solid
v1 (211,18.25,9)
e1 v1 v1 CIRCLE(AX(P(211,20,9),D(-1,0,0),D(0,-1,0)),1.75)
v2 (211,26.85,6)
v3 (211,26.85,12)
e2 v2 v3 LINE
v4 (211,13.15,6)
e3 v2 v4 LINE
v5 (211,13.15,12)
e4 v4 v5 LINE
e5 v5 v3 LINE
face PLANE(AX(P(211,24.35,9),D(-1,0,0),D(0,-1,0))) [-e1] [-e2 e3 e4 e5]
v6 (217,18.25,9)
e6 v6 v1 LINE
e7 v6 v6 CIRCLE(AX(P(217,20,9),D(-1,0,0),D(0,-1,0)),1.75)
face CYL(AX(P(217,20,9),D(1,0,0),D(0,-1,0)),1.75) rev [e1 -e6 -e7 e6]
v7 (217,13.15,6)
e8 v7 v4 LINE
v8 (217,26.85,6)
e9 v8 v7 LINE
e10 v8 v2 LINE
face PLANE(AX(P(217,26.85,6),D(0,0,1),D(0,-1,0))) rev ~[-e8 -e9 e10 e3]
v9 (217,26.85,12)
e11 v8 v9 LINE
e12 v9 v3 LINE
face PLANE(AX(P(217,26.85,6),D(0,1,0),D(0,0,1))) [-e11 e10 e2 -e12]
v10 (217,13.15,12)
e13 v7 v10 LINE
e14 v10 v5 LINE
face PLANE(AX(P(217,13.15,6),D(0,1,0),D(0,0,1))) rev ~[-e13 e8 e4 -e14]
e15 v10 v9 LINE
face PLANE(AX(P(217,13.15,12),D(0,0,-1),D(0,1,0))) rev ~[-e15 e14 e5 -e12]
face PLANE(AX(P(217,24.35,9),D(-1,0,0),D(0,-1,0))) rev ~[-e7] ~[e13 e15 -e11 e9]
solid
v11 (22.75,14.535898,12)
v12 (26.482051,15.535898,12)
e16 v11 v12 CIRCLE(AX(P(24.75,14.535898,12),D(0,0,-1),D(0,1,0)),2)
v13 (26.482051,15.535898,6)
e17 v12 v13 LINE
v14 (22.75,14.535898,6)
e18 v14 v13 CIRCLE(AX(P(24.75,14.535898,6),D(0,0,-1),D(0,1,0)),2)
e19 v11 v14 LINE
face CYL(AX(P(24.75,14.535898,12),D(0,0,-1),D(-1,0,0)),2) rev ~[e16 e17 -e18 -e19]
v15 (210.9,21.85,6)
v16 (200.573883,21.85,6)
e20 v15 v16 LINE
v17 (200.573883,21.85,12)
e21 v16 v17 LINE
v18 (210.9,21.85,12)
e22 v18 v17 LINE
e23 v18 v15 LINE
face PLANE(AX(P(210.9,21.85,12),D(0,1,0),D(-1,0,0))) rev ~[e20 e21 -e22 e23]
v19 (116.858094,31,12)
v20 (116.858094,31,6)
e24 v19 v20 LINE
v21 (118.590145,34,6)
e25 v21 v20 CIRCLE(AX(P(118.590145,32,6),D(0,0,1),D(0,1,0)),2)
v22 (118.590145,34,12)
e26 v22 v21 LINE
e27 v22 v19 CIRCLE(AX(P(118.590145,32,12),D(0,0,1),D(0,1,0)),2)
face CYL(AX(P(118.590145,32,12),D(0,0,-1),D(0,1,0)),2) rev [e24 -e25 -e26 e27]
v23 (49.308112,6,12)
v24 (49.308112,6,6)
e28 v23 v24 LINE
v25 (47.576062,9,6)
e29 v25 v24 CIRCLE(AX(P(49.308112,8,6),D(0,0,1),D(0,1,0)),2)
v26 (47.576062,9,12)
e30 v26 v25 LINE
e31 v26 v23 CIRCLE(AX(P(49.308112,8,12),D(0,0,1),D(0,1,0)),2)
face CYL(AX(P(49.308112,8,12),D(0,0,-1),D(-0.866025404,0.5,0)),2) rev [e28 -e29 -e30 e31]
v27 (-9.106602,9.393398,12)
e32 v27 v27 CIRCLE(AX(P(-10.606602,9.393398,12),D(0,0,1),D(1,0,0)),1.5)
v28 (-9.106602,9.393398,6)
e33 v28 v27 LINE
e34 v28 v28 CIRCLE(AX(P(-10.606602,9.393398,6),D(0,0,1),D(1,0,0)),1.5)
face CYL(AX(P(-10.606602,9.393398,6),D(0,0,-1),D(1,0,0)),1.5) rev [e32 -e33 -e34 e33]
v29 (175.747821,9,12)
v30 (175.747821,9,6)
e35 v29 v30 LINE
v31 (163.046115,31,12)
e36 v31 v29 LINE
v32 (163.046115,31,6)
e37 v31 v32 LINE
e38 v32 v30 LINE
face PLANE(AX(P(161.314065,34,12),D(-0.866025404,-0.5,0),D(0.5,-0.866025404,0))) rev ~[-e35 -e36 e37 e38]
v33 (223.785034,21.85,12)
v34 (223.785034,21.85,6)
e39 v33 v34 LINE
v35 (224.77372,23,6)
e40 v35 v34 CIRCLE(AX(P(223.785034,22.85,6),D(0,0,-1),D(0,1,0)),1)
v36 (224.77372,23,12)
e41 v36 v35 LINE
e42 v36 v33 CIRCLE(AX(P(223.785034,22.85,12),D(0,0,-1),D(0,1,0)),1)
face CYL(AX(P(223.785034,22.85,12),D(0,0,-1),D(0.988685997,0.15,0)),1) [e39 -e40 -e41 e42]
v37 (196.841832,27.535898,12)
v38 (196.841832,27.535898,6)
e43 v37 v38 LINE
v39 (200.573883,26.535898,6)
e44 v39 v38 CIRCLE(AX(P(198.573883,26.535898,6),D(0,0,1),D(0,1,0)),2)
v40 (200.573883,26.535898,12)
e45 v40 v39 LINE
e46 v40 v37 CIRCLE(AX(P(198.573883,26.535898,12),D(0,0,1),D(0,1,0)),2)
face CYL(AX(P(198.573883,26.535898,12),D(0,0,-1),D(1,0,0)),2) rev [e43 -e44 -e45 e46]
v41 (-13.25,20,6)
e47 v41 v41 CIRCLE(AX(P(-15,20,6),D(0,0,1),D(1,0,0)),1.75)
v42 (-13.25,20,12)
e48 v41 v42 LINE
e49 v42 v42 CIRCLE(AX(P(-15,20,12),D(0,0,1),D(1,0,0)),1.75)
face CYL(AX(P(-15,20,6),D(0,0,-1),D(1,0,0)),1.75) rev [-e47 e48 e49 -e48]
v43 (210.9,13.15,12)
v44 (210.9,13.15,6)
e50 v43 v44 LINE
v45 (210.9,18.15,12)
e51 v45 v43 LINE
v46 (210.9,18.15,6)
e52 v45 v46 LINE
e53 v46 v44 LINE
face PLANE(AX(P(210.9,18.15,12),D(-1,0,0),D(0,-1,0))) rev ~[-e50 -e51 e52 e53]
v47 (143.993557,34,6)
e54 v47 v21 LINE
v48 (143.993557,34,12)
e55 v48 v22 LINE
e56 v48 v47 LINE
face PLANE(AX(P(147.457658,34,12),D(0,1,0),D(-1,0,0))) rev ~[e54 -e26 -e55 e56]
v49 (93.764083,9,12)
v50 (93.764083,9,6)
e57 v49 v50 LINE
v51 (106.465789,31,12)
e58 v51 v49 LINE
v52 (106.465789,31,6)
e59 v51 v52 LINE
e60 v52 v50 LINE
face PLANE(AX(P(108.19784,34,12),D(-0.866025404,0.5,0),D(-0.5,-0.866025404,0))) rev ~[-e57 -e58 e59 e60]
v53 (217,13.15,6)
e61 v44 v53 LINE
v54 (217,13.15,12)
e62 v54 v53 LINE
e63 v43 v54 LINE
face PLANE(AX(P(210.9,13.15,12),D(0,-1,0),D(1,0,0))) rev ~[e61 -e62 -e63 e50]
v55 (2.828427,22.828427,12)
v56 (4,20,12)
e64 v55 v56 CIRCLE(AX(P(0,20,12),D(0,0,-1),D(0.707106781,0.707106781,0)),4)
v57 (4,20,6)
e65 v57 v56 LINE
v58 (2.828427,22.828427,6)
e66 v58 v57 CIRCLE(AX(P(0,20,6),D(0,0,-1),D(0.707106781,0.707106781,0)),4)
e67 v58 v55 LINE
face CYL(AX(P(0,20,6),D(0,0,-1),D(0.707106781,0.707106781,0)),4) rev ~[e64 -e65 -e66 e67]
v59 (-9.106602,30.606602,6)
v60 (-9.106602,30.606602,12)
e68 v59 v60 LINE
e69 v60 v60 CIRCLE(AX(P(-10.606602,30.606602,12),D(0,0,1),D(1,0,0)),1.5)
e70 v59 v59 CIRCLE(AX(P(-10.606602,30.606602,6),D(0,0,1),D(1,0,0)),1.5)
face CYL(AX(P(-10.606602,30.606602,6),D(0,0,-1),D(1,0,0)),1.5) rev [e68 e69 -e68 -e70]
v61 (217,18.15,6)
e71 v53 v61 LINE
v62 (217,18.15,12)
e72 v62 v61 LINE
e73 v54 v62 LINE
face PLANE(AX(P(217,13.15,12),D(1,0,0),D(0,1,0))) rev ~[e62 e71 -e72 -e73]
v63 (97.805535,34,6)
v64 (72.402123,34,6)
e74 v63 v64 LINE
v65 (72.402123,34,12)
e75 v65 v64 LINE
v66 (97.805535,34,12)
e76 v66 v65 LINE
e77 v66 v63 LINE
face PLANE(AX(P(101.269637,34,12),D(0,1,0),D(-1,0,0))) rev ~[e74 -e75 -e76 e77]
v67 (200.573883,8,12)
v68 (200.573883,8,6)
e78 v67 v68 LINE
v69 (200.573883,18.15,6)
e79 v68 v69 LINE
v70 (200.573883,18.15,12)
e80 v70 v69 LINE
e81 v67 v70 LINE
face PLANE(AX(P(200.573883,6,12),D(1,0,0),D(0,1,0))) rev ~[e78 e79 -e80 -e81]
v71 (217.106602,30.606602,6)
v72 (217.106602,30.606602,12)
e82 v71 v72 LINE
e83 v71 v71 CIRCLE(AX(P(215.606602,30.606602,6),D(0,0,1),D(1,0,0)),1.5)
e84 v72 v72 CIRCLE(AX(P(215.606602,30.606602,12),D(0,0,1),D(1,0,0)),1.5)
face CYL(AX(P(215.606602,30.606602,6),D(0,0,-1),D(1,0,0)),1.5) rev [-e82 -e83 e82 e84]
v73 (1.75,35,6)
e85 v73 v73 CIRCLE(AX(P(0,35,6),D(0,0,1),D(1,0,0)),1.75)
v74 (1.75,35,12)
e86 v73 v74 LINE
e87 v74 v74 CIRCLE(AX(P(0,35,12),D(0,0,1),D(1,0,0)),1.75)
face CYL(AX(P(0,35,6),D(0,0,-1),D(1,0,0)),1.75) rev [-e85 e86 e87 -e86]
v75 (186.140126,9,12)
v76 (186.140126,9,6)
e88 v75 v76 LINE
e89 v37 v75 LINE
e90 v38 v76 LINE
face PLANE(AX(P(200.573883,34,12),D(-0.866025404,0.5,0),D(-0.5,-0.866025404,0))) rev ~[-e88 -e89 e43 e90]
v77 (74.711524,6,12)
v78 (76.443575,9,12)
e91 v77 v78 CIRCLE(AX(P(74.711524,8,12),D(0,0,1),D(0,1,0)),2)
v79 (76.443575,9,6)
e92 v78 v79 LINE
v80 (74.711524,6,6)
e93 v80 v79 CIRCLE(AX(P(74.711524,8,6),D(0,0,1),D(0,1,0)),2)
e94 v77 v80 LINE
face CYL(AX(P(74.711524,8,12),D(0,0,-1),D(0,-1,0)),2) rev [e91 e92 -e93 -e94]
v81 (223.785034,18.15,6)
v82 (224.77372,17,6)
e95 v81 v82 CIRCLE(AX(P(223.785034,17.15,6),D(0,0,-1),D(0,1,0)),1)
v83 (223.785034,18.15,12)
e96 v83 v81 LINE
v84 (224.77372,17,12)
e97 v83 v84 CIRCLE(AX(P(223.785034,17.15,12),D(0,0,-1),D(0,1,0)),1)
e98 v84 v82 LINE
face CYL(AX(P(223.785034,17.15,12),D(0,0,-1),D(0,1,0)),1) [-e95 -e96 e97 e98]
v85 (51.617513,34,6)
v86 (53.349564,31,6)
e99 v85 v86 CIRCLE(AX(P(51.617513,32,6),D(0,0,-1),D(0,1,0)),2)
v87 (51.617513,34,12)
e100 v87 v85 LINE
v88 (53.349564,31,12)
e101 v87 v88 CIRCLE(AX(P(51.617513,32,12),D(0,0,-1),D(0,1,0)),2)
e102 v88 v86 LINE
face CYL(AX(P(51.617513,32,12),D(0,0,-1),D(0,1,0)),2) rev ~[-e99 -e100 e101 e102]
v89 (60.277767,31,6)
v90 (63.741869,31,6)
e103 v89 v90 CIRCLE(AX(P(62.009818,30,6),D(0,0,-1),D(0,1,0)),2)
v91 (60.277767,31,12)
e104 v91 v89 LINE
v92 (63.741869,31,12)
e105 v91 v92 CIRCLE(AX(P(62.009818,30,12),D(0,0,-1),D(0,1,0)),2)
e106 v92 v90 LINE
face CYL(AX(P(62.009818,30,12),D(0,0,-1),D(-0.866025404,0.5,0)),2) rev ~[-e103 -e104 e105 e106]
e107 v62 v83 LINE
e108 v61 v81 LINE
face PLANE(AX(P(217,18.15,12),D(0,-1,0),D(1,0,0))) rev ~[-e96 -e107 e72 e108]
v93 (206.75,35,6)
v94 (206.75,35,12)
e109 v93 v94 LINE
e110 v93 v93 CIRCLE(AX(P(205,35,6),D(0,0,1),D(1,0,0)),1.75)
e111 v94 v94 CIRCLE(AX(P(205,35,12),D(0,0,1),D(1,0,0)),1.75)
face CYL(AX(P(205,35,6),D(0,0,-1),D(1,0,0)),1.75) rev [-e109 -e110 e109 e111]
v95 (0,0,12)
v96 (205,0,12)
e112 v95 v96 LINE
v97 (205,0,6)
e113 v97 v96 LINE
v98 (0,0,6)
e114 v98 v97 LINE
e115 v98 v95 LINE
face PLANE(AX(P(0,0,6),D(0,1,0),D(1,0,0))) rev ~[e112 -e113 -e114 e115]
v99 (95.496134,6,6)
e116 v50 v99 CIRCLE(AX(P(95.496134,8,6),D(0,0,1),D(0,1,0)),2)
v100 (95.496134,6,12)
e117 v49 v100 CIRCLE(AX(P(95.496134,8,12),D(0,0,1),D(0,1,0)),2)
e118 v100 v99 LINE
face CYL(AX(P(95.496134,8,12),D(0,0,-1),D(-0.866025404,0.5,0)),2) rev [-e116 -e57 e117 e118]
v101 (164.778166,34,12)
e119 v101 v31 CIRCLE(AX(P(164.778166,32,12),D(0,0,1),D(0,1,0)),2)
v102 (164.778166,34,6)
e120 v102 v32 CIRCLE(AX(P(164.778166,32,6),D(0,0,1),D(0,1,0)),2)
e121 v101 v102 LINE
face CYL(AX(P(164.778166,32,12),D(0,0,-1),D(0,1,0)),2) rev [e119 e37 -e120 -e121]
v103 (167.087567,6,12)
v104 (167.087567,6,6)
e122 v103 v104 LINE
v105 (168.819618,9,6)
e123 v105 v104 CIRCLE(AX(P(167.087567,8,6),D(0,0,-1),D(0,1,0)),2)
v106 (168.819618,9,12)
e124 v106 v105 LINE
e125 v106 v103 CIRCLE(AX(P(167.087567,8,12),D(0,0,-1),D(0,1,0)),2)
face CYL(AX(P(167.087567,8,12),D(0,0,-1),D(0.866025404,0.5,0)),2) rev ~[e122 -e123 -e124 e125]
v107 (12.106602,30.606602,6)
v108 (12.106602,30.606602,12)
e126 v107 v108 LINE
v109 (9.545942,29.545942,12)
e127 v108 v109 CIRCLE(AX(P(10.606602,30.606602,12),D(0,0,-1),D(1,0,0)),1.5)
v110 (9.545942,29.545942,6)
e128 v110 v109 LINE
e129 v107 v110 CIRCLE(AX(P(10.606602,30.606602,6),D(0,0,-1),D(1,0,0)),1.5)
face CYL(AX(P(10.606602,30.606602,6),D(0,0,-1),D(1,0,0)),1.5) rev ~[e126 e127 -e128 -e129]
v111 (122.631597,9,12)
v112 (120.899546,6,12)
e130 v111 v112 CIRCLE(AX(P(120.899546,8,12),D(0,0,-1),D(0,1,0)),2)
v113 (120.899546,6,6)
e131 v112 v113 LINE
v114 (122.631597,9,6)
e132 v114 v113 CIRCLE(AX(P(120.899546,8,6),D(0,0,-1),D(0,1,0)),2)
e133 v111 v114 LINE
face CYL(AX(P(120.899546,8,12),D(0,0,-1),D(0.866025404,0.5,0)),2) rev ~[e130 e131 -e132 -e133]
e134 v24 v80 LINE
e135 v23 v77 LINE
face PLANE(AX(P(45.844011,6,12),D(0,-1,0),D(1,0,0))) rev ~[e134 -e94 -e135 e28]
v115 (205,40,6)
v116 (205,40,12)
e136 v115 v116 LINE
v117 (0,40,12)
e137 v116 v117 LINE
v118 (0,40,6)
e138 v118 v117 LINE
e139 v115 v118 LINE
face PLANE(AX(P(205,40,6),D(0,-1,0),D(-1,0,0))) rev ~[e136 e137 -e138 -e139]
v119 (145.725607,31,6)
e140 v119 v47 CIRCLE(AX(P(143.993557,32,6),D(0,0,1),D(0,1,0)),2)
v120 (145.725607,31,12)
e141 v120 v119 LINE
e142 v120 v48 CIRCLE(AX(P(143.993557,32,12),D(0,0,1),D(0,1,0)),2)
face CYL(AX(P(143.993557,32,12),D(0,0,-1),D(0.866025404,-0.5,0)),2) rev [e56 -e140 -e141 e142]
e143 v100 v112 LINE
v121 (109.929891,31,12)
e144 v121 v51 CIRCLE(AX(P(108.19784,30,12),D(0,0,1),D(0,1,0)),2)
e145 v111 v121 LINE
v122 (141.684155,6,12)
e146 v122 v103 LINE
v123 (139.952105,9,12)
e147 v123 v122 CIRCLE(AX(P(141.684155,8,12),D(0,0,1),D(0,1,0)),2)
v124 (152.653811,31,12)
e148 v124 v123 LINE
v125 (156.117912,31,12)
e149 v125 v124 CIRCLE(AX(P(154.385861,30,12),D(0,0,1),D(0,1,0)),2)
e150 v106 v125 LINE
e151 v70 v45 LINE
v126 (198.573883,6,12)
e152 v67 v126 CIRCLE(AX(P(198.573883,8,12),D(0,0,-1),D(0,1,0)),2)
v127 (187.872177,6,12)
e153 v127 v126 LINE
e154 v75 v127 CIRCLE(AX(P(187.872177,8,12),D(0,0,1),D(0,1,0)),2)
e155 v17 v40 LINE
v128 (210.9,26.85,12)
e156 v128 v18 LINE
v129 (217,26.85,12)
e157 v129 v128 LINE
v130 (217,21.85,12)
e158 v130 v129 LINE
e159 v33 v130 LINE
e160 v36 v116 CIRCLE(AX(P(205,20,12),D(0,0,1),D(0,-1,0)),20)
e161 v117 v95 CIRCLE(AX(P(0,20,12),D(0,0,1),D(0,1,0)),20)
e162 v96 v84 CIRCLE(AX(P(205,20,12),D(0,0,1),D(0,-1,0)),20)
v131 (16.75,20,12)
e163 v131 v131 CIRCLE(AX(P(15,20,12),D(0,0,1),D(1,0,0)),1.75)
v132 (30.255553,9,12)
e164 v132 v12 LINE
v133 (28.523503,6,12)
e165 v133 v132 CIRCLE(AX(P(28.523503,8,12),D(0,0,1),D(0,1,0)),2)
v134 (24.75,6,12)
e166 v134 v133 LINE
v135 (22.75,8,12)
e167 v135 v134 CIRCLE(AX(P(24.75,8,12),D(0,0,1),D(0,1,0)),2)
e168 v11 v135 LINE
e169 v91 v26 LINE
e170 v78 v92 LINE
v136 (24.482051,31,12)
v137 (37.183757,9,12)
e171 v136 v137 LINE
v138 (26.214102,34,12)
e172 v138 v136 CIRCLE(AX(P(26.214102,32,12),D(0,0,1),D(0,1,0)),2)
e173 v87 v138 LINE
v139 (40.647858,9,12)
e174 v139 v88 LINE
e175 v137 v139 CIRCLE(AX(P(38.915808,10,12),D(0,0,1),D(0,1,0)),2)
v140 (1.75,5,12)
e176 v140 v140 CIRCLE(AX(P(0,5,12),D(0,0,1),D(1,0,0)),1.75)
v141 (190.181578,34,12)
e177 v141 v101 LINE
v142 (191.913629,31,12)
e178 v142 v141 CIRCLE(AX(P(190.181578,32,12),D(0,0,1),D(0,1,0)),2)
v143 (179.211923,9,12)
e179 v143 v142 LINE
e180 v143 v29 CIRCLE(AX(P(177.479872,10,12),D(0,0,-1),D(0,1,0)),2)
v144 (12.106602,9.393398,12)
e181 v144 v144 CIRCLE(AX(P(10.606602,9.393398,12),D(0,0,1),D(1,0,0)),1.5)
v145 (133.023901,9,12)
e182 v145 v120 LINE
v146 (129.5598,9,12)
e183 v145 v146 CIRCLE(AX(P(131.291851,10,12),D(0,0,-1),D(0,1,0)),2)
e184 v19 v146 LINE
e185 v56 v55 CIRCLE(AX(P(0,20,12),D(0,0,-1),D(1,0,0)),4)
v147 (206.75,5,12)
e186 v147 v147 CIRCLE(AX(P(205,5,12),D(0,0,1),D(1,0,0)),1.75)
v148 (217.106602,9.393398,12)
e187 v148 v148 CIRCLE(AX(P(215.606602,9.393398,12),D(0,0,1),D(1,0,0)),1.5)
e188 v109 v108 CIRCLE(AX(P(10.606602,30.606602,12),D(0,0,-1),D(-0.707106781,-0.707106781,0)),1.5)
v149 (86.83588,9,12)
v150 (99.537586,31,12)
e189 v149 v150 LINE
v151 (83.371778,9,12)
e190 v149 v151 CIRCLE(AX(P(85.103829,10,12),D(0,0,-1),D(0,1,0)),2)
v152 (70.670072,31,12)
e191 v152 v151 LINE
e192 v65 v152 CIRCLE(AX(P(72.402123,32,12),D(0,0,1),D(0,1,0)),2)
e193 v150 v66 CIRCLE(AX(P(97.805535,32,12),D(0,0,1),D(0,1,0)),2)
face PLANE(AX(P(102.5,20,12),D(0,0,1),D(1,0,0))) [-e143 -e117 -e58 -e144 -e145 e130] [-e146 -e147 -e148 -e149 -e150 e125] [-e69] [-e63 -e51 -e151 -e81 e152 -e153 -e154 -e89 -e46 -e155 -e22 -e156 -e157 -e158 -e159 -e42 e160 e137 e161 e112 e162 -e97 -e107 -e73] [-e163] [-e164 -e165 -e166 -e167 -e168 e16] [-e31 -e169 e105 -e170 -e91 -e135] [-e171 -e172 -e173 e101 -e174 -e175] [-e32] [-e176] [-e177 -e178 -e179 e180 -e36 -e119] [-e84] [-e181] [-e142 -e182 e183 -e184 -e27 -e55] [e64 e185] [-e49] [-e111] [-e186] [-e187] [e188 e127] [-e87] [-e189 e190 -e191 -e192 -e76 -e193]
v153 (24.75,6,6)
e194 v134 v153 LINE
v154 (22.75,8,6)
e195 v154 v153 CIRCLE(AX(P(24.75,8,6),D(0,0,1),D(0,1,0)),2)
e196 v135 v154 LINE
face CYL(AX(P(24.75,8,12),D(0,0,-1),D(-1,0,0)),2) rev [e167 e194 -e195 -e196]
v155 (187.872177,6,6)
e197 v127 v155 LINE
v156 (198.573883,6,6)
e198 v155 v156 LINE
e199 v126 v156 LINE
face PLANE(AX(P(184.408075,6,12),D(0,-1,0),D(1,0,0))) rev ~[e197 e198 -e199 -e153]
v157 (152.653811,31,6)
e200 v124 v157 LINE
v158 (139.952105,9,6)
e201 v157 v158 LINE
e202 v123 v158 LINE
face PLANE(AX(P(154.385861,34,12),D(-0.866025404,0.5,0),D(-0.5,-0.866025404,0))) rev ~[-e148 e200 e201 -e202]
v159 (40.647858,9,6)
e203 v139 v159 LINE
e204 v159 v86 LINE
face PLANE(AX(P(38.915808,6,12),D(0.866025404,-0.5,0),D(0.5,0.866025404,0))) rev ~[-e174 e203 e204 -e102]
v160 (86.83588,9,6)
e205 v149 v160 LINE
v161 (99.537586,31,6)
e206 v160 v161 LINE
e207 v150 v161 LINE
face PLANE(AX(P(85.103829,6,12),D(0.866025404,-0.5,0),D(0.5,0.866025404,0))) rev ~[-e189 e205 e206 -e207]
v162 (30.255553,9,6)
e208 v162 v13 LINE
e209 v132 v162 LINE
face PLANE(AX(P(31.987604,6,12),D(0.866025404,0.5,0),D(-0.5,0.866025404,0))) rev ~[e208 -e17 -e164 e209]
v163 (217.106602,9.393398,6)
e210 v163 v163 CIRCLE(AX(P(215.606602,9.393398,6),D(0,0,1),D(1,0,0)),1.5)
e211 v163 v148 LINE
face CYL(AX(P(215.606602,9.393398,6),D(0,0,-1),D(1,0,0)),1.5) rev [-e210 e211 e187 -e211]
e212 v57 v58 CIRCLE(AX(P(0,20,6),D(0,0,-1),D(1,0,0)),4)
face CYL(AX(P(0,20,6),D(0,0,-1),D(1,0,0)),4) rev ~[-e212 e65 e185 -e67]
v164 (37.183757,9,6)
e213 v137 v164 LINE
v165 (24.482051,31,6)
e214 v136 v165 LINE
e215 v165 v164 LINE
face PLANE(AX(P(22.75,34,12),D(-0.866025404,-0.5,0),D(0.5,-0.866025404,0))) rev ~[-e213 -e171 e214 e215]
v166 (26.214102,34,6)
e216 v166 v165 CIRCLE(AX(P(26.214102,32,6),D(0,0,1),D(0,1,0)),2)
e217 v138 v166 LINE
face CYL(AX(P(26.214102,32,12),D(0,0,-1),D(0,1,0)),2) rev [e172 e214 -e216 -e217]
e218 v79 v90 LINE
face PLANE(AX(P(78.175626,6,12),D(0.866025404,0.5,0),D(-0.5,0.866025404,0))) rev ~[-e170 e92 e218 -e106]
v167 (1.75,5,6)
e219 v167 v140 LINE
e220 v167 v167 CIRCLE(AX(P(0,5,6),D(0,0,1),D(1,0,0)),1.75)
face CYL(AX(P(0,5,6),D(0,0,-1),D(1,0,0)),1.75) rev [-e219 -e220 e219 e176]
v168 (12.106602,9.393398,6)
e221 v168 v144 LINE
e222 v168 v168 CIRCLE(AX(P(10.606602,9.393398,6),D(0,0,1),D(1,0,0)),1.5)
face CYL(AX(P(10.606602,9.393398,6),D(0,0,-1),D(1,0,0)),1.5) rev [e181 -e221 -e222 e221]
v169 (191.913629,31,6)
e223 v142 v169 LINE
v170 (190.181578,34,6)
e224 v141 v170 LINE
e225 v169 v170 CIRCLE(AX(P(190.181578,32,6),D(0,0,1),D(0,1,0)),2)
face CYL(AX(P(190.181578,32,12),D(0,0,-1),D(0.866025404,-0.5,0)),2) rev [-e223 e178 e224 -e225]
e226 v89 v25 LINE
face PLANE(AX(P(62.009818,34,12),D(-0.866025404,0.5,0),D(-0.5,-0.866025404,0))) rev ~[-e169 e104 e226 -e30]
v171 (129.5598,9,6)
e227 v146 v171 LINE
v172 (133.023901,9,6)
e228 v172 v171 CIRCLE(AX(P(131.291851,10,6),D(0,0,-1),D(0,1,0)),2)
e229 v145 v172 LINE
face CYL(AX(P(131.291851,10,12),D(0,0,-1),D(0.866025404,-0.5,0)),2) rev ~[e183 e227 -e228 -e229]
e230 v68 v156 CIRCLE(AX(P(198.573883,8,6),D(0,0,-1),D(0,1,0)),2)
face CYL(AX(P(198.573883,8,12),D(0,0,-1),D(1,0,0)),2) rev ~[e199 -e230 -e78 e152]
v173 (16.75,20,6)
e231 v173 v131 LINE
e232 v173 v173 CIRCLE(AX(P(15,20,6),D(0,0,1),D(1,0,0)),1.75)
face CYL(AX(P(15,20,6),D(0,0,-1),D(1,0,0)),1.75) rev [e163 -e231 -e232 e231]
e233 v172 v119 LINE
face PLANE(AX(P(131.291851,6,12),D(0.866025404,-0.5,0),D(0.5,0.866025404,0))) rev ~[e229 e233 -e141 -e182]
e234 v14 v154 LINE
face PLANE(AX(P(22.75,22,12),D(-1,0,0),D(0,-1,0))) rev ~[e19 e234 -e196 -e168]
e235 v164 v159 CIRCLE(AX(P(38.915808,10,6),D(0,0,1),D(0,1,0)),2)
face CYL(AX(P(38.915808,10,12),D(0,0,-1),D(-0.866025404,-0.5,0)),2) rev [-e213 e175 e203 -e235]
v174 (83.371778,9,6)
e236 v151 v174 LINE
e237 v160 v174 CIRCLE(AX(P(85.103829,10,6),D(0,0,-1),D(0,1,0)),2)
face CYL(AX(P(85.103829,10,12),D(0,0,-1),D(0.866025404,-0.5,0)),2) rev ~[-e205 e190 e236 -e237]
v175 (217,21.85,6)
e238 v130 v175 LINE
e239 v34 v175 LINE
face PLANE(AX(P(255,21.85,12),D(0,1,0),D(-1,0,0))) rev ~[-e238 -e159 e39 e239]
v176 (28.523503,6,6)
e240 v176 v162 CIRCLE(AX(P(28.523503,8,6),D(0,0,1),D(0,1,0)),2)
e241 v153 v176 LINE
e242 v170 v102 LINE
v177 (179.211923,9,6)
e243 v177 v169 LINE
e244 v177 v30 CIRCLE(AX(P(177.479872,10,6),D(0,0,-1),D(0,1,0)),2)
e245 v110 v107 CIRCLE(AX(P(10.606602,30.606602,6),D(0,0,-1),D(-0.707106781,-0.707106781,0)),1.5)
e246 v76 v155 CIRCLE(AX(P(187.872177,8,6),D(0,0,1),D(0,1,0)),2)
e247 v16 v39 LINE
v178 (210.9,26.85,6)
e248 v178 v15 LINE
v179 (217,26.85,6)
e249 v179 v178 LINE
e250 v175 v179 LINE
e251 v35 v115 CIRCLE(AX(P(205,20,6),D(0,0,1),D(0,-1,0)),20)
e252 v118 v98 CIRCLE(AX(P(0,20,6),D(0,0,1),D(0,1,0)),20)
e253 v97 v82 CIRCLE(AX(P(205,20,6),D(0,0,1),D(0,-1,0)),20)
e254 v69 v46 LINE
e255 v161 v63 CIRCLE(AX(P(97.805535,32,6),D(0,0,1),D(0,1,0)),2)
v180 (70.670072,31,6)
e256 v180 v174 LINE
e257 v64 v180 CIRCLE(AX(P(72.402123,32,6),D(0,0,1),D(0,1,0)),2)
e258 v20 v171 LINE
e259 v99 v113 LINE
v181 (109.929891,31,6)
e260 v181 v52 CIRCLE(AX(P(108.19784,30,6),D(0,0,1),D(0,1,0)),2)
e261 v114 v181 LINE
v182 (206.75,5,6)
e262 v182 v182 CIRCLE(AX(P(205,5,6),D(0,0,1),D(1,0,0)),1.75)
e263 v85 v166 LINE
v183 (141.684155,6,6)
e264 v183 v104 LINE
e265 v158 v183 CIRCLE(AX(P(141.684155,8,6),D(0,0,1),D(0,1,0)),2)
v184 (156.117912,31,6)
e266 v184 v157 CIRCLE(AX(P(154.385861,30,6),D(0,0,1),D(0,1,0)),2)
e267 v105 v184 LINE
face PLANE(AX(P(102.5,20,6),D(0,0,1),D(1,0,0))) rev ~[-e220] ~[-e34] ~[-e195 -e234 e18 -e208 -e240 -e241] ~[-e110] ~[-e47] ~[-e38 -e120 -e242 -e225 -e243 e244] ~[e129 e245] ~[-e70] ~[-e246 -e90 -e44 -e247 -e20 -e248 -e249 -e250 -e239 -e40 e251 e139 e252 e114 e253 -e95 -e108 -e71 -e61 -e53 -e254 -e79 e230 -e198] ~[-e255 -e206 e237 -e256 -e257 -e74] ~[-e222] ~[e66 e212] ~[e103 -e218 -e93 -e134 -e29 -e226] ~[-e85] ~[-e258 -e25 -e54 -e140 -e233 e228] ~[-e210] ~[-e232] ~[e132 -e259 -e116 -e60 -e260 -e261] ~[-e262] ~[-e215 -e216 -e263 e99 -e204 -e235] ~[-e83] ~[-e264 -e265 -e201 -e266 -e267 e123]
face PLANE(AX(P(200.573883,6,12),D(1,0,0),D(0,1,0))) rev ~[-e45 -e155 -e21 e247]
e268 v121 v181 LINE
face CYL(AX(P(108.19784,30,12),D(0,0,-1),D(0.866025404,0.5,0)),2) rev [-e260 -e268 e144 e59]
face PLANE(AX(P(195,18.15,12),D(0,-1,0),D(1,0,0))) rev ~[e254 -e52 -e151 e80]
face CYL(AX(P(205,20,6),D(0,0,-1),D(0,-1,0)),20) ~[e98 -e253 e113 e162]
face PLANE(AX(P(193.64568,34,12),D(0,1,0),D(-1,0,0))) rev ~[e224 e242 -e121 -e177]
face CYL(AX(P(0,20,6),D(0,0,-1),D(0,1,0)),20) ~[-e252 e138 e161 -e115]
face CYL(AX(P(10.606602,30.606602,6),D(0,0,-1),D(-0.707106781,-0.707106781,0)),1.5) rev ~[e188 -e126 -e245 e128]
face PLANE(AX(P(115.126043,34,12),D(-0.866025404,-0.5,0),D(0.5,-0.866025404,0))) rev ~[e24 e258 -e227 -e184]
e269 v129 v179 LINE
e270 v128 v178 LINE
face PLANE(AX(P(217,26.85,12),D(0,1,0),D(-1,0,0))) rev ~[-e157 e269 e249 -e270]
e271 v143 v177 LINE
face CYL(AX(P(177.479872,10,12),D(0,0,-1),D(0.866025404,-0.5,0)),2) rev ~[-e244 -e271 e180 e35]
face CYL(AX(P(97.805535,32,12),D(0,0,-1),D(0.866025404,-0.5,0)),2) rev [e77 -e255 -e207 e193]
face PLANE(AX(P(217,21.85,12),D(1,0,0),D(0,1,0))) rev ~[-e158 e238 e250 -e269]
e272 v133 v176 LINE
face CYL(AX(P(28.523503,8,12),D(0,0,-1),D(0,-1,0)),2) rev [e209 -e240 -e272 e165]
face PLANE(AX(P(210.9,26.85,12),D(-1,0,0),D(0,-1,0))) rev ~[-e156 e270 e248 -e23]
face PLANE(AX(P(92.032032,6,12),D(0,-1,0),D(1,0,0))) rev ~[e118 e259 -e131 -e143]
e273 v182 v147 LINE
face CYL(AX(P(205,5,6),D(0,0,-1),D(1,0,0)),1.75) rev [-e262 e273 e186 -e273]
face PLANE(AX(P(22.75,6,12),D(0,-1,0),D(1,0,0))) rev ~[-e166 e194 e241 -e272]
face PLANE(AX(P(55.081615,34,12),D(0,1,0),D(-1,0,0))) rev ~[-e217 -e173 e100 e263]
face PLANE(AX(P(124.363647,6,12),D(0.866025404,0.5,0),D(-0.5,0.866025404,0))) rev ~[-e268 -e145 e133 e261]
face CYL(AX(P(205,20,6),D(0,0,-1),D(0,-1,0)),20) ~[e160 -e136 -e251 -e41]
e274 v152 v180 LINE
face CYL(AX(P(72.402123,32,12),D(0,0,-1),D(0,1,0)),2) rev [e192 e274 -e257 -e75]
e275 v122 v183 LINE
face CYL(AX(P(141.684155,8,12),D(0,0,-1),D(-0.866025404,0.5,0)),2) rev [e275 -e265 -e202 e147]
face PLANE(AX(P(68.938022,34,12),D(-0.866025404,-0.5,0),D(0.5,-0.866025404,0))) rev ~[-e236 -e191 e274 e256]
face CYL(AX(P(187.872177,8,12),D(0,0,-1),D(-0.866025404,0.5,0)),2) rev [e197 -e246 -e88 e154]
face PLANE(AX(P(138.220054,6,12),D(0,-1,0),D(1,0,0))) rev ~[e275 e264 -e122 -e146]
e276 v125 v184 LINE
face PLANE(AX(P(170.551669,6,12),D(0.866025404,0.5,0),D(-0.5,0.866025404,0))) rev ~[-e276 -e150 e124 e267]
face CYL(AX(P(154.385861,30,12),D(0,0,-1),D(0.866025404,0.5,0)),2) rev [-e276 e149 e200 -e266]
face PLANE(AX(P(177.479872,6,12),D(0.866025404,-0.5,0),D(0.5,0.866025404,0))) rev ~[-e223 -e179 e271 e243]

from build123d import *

# Parameters (mm, degrees)
F0_R      = 1.75
F0_R_2    = 1.5
F1_DEPTH  = 6
F3_DEPTH  = 6.001
F4_R      = 2
F9_R      = 2
F10_DEPTH = 20
F13_DEPTH = 6.001
F14_R     = 1
F15_W     = 5
F15_H     = 6
F15_W_2   = 8.7
F15_R     = 1.75
F16_DEPTH = 6


with BuildPart() as f1:
    # F0 (on Top) → F1 (new body)
    with BuildSketch(Plane.XY):
        with BuildLine():
            ThreePointArc((0, 40), (-20, 20), (0, 0))
            Line((0, 0), (205, 0))
            ThreePointArc((205, 0), (225, 20), (205, 40))
            Line((205, 40), (0, 40))
        make_face()
        with Locations((0, 5)):
            Circle(F0_R, mode=Mode.SUBTRACT)
        with Locations((-10.6066017178, 9.3933982822)):
            Circle(F0_R_2, mode=Mode.SUBTRACT)
        with Locations((10.6066017178, 9.3933982822)):
            Circle(F0_R_2, mode=Mode.SUBTRACT)
        with Locations((205, 5)):
            Circle(F0_R, mode=Mode.SUBTRACT)
        with Locations((215.6066017178, 9.3933982822)):
            Circle(F0_R_2, mode=Mode.SUBTRACT)
        with Locations((-15, 20)):
            Circle(F0_R, mode=Mode.SUBTRACT)
        with BuildLine():
            ThreePointArc((4, 20), (-3.69551813, 18.4692662705), (2.8284271247, 22.8284271247))
            ThreePointArc((2.8284271247, 22.8284271247), (3.69551813, 21.5307337295), (4, 20))
        make_face(mode=Mode.SUBTRACT)
        with Locations((15, 20)):
            Circle(F0_R, mode=Mode.SUBTRACT)
        with Locations((-10.6066017178, 30.6066017178)):
            Circle(F0_R_2, mode=Mode.SUBTRACT)
        with BuildLine():
            ThreePointArc((12.1066017178, 30.6066017178), (11.1806268663, 29.220782419), (9.545941546, 29.545941546))
            ThreePointArc((9.545941546, 29.545941546), (10.0325765693, 31.9924210166), (12.1066017178, 30.6066017178))
        make_face(mode=Mode.SUBTRACT)
        with Locations((0, 35)):
            Circle(F0_R, mode=Mode.SUBTRACT)
        with Locations((215.6066017178, 30.6066017178)):
            Circle(F0_R_2, mode=Mode.SUBTRACT)
        with Locations((205, 35)):
            Circle(F0_R, mode=Mode.SUBTRACT)
    extrude(amount=F1_DEPTH)

    # F2 (on face) → F3 (cut, through all)
    with BuildSketch(Plane.XY.offset(6)):
        Polygon((55.0816150746, 34), (22.75, 34), (38.9158075373, 6), align=None)
        Polygon((62.0098183049, 34), (45.8440107676, 6), (78.1756258422, 6), align=None)
        Polygon((85.1038290725, 6), (101.2696366098, 34), (68.9380215352, 34), align=None)
        Polygon((124.3636473774, 6), (108.1978398401, 34), (92.0320323028, 6), align=None)
        Polygon((131.2918506076, 6), (147.457658145, 34), (115.1260430703, 34), align=None)
        Polygon((170.5516689125, 6), (154.3858613752, 34), (138.2200538379, 6), align=None)
        Polygon((177.4798721428, 6), (193.6456796801, 34), (161.3140646055, 34), align=None)
        Polygon((200.5738829104, 6), (200.5738829104, 34), (184.4080753731, 6), align=None)
        Polygon((22.75, 22), (22.75, 6), (31.987604307, 6), align=None)
    extrude(amount=-F3_DEPTH, mode=Mode.SUBTRACT)

    # F4
    f4_edges = [f1.edges().sort_by_distance(p)[0] for p in [
        (22.75, 34, 3),
        (55.081615, 34, 3),
        (38.915808, 6, 3),
        (45.844011, 6, 3),
        (62.009818, 34, 3),
        (78.175626, 6, 3),
        (22.75, 22, 3),
        (22.75, 6, 3),
        (31.987604, 6, 3),
        (68.938022, 34, 3),
        (101.269637, 34, 3),
        (85.103829, 6, 3),
        (92.032032, 6, 3),
        (108.19784, 34, 3),
        (124.363647, 6, 3),
        (115.126043, 34, 3),
        (161.314065, 34, 3),
        (147.457658, 34, 3),
        (193.64568, 34, 3),
        (131.291851, 6, 3),
        (154.385861, 34, 3),
        (170.551669, 6, 3),
        (138.220054, 6, 3),
        (200.573883, 6, 3),
        (184.408075, 6, 3),
        (200.573883, 34, 3),
        (177.479872, 6, 3),
    ]]
    fillet(f4_edges, radius=F4_R)


with BuildPart() as f6:
    # F5 (on Top) → F6 (revolve)
    with BuildSketch(Plane.XY):
        with BuildLine():
            Line((0, 0), (31.1984250992, 0))
            Line((31.1984250992, 0), (31.1984250992, 7))
            Line((31.1984250992, 7), (27.1984250992, 7))
            ThreePointArc((27.1984250992, 7), (10.8859416121, 14.0423851952), (0, 0))
        make_face()
    revolve(axis=Axis((15.5992125496, 0, 0), (-1, 0, 0)))


with BuildPart() as f7_1:
    # F7: copy of F1
    add(f1.part.moved(Location((0, 0, 6))))


with BuildPart() as f8_1:
    # F8: copy of F7_1
    add(f7_1.part.moved(Location((0, 0, 6))))


with BuildPart() as f10_tool:
    # F9 (on face) → F10 (new body)
    with BuildSketch(Plane.YZ.offset(31.1984250992)):
        Circle(F9_R)
    extrude(amount=-F10_DEPTH)


with BuildPart() as f1_1:
    add(f1.part)

    # F10: cut by f10_tool
    add(f10_tool.part, mode=Mode.SUBTRACT)


with BuildPart() as f6_1:
    add(f6.part)

    # F10: cut by f10_tool
    add(f10_tool.part, mode=Mode.SUBTRACT)


with BuildPart() as f7_1_1:
    add(f7_1.part)

    # F12 (on face) → F13 (cut, through all)
    with BuildSketch(Plane.XY.offset(12)):
        Polygon((217, 18.15), (255, 18.15), (255, 21.85), (217, 21.85), (217, 26.85), (210.9, 26.85), (210.9, 21.85), (195, 21.85), (195, 18.15), (210.9, 18.15), (210.9, 13.15), (217, 13.15), align=None)
    extrude(amount=-F13_DEPTH, mode=Mode.SUBTRACT)

    # F14
    f14_edges = [f7_1_1.edges().sort_by_distance(p)[0] for p in [
        (224.914254, 21.85, 9),
        (224.914254, 18.15, 9),
    ]]
    fillet(f14_edges, radius=F14_R)


with BuildPart() as f16:
    # F15 (on face) → F16 (new body)
    with BuildSketch(Plane(origin=(217, 0, 0), x_dir=(0, -1, 0), z_dir=(-1, 0, 0))):
        with Locations((-24.35, 9)):
            Rectangle(F15_W, F15_H)
        with Locations((-17.5, 9)):
            Rectangle(F15_W_2, F15_H)
        with Locations((-20, 9)):
            Circle(F15_R, mode=Mode.SUBTRACT)
    extrude(amount=F16_DEPTH)


solid = Compound([f7_1_1.part, f16.part])
